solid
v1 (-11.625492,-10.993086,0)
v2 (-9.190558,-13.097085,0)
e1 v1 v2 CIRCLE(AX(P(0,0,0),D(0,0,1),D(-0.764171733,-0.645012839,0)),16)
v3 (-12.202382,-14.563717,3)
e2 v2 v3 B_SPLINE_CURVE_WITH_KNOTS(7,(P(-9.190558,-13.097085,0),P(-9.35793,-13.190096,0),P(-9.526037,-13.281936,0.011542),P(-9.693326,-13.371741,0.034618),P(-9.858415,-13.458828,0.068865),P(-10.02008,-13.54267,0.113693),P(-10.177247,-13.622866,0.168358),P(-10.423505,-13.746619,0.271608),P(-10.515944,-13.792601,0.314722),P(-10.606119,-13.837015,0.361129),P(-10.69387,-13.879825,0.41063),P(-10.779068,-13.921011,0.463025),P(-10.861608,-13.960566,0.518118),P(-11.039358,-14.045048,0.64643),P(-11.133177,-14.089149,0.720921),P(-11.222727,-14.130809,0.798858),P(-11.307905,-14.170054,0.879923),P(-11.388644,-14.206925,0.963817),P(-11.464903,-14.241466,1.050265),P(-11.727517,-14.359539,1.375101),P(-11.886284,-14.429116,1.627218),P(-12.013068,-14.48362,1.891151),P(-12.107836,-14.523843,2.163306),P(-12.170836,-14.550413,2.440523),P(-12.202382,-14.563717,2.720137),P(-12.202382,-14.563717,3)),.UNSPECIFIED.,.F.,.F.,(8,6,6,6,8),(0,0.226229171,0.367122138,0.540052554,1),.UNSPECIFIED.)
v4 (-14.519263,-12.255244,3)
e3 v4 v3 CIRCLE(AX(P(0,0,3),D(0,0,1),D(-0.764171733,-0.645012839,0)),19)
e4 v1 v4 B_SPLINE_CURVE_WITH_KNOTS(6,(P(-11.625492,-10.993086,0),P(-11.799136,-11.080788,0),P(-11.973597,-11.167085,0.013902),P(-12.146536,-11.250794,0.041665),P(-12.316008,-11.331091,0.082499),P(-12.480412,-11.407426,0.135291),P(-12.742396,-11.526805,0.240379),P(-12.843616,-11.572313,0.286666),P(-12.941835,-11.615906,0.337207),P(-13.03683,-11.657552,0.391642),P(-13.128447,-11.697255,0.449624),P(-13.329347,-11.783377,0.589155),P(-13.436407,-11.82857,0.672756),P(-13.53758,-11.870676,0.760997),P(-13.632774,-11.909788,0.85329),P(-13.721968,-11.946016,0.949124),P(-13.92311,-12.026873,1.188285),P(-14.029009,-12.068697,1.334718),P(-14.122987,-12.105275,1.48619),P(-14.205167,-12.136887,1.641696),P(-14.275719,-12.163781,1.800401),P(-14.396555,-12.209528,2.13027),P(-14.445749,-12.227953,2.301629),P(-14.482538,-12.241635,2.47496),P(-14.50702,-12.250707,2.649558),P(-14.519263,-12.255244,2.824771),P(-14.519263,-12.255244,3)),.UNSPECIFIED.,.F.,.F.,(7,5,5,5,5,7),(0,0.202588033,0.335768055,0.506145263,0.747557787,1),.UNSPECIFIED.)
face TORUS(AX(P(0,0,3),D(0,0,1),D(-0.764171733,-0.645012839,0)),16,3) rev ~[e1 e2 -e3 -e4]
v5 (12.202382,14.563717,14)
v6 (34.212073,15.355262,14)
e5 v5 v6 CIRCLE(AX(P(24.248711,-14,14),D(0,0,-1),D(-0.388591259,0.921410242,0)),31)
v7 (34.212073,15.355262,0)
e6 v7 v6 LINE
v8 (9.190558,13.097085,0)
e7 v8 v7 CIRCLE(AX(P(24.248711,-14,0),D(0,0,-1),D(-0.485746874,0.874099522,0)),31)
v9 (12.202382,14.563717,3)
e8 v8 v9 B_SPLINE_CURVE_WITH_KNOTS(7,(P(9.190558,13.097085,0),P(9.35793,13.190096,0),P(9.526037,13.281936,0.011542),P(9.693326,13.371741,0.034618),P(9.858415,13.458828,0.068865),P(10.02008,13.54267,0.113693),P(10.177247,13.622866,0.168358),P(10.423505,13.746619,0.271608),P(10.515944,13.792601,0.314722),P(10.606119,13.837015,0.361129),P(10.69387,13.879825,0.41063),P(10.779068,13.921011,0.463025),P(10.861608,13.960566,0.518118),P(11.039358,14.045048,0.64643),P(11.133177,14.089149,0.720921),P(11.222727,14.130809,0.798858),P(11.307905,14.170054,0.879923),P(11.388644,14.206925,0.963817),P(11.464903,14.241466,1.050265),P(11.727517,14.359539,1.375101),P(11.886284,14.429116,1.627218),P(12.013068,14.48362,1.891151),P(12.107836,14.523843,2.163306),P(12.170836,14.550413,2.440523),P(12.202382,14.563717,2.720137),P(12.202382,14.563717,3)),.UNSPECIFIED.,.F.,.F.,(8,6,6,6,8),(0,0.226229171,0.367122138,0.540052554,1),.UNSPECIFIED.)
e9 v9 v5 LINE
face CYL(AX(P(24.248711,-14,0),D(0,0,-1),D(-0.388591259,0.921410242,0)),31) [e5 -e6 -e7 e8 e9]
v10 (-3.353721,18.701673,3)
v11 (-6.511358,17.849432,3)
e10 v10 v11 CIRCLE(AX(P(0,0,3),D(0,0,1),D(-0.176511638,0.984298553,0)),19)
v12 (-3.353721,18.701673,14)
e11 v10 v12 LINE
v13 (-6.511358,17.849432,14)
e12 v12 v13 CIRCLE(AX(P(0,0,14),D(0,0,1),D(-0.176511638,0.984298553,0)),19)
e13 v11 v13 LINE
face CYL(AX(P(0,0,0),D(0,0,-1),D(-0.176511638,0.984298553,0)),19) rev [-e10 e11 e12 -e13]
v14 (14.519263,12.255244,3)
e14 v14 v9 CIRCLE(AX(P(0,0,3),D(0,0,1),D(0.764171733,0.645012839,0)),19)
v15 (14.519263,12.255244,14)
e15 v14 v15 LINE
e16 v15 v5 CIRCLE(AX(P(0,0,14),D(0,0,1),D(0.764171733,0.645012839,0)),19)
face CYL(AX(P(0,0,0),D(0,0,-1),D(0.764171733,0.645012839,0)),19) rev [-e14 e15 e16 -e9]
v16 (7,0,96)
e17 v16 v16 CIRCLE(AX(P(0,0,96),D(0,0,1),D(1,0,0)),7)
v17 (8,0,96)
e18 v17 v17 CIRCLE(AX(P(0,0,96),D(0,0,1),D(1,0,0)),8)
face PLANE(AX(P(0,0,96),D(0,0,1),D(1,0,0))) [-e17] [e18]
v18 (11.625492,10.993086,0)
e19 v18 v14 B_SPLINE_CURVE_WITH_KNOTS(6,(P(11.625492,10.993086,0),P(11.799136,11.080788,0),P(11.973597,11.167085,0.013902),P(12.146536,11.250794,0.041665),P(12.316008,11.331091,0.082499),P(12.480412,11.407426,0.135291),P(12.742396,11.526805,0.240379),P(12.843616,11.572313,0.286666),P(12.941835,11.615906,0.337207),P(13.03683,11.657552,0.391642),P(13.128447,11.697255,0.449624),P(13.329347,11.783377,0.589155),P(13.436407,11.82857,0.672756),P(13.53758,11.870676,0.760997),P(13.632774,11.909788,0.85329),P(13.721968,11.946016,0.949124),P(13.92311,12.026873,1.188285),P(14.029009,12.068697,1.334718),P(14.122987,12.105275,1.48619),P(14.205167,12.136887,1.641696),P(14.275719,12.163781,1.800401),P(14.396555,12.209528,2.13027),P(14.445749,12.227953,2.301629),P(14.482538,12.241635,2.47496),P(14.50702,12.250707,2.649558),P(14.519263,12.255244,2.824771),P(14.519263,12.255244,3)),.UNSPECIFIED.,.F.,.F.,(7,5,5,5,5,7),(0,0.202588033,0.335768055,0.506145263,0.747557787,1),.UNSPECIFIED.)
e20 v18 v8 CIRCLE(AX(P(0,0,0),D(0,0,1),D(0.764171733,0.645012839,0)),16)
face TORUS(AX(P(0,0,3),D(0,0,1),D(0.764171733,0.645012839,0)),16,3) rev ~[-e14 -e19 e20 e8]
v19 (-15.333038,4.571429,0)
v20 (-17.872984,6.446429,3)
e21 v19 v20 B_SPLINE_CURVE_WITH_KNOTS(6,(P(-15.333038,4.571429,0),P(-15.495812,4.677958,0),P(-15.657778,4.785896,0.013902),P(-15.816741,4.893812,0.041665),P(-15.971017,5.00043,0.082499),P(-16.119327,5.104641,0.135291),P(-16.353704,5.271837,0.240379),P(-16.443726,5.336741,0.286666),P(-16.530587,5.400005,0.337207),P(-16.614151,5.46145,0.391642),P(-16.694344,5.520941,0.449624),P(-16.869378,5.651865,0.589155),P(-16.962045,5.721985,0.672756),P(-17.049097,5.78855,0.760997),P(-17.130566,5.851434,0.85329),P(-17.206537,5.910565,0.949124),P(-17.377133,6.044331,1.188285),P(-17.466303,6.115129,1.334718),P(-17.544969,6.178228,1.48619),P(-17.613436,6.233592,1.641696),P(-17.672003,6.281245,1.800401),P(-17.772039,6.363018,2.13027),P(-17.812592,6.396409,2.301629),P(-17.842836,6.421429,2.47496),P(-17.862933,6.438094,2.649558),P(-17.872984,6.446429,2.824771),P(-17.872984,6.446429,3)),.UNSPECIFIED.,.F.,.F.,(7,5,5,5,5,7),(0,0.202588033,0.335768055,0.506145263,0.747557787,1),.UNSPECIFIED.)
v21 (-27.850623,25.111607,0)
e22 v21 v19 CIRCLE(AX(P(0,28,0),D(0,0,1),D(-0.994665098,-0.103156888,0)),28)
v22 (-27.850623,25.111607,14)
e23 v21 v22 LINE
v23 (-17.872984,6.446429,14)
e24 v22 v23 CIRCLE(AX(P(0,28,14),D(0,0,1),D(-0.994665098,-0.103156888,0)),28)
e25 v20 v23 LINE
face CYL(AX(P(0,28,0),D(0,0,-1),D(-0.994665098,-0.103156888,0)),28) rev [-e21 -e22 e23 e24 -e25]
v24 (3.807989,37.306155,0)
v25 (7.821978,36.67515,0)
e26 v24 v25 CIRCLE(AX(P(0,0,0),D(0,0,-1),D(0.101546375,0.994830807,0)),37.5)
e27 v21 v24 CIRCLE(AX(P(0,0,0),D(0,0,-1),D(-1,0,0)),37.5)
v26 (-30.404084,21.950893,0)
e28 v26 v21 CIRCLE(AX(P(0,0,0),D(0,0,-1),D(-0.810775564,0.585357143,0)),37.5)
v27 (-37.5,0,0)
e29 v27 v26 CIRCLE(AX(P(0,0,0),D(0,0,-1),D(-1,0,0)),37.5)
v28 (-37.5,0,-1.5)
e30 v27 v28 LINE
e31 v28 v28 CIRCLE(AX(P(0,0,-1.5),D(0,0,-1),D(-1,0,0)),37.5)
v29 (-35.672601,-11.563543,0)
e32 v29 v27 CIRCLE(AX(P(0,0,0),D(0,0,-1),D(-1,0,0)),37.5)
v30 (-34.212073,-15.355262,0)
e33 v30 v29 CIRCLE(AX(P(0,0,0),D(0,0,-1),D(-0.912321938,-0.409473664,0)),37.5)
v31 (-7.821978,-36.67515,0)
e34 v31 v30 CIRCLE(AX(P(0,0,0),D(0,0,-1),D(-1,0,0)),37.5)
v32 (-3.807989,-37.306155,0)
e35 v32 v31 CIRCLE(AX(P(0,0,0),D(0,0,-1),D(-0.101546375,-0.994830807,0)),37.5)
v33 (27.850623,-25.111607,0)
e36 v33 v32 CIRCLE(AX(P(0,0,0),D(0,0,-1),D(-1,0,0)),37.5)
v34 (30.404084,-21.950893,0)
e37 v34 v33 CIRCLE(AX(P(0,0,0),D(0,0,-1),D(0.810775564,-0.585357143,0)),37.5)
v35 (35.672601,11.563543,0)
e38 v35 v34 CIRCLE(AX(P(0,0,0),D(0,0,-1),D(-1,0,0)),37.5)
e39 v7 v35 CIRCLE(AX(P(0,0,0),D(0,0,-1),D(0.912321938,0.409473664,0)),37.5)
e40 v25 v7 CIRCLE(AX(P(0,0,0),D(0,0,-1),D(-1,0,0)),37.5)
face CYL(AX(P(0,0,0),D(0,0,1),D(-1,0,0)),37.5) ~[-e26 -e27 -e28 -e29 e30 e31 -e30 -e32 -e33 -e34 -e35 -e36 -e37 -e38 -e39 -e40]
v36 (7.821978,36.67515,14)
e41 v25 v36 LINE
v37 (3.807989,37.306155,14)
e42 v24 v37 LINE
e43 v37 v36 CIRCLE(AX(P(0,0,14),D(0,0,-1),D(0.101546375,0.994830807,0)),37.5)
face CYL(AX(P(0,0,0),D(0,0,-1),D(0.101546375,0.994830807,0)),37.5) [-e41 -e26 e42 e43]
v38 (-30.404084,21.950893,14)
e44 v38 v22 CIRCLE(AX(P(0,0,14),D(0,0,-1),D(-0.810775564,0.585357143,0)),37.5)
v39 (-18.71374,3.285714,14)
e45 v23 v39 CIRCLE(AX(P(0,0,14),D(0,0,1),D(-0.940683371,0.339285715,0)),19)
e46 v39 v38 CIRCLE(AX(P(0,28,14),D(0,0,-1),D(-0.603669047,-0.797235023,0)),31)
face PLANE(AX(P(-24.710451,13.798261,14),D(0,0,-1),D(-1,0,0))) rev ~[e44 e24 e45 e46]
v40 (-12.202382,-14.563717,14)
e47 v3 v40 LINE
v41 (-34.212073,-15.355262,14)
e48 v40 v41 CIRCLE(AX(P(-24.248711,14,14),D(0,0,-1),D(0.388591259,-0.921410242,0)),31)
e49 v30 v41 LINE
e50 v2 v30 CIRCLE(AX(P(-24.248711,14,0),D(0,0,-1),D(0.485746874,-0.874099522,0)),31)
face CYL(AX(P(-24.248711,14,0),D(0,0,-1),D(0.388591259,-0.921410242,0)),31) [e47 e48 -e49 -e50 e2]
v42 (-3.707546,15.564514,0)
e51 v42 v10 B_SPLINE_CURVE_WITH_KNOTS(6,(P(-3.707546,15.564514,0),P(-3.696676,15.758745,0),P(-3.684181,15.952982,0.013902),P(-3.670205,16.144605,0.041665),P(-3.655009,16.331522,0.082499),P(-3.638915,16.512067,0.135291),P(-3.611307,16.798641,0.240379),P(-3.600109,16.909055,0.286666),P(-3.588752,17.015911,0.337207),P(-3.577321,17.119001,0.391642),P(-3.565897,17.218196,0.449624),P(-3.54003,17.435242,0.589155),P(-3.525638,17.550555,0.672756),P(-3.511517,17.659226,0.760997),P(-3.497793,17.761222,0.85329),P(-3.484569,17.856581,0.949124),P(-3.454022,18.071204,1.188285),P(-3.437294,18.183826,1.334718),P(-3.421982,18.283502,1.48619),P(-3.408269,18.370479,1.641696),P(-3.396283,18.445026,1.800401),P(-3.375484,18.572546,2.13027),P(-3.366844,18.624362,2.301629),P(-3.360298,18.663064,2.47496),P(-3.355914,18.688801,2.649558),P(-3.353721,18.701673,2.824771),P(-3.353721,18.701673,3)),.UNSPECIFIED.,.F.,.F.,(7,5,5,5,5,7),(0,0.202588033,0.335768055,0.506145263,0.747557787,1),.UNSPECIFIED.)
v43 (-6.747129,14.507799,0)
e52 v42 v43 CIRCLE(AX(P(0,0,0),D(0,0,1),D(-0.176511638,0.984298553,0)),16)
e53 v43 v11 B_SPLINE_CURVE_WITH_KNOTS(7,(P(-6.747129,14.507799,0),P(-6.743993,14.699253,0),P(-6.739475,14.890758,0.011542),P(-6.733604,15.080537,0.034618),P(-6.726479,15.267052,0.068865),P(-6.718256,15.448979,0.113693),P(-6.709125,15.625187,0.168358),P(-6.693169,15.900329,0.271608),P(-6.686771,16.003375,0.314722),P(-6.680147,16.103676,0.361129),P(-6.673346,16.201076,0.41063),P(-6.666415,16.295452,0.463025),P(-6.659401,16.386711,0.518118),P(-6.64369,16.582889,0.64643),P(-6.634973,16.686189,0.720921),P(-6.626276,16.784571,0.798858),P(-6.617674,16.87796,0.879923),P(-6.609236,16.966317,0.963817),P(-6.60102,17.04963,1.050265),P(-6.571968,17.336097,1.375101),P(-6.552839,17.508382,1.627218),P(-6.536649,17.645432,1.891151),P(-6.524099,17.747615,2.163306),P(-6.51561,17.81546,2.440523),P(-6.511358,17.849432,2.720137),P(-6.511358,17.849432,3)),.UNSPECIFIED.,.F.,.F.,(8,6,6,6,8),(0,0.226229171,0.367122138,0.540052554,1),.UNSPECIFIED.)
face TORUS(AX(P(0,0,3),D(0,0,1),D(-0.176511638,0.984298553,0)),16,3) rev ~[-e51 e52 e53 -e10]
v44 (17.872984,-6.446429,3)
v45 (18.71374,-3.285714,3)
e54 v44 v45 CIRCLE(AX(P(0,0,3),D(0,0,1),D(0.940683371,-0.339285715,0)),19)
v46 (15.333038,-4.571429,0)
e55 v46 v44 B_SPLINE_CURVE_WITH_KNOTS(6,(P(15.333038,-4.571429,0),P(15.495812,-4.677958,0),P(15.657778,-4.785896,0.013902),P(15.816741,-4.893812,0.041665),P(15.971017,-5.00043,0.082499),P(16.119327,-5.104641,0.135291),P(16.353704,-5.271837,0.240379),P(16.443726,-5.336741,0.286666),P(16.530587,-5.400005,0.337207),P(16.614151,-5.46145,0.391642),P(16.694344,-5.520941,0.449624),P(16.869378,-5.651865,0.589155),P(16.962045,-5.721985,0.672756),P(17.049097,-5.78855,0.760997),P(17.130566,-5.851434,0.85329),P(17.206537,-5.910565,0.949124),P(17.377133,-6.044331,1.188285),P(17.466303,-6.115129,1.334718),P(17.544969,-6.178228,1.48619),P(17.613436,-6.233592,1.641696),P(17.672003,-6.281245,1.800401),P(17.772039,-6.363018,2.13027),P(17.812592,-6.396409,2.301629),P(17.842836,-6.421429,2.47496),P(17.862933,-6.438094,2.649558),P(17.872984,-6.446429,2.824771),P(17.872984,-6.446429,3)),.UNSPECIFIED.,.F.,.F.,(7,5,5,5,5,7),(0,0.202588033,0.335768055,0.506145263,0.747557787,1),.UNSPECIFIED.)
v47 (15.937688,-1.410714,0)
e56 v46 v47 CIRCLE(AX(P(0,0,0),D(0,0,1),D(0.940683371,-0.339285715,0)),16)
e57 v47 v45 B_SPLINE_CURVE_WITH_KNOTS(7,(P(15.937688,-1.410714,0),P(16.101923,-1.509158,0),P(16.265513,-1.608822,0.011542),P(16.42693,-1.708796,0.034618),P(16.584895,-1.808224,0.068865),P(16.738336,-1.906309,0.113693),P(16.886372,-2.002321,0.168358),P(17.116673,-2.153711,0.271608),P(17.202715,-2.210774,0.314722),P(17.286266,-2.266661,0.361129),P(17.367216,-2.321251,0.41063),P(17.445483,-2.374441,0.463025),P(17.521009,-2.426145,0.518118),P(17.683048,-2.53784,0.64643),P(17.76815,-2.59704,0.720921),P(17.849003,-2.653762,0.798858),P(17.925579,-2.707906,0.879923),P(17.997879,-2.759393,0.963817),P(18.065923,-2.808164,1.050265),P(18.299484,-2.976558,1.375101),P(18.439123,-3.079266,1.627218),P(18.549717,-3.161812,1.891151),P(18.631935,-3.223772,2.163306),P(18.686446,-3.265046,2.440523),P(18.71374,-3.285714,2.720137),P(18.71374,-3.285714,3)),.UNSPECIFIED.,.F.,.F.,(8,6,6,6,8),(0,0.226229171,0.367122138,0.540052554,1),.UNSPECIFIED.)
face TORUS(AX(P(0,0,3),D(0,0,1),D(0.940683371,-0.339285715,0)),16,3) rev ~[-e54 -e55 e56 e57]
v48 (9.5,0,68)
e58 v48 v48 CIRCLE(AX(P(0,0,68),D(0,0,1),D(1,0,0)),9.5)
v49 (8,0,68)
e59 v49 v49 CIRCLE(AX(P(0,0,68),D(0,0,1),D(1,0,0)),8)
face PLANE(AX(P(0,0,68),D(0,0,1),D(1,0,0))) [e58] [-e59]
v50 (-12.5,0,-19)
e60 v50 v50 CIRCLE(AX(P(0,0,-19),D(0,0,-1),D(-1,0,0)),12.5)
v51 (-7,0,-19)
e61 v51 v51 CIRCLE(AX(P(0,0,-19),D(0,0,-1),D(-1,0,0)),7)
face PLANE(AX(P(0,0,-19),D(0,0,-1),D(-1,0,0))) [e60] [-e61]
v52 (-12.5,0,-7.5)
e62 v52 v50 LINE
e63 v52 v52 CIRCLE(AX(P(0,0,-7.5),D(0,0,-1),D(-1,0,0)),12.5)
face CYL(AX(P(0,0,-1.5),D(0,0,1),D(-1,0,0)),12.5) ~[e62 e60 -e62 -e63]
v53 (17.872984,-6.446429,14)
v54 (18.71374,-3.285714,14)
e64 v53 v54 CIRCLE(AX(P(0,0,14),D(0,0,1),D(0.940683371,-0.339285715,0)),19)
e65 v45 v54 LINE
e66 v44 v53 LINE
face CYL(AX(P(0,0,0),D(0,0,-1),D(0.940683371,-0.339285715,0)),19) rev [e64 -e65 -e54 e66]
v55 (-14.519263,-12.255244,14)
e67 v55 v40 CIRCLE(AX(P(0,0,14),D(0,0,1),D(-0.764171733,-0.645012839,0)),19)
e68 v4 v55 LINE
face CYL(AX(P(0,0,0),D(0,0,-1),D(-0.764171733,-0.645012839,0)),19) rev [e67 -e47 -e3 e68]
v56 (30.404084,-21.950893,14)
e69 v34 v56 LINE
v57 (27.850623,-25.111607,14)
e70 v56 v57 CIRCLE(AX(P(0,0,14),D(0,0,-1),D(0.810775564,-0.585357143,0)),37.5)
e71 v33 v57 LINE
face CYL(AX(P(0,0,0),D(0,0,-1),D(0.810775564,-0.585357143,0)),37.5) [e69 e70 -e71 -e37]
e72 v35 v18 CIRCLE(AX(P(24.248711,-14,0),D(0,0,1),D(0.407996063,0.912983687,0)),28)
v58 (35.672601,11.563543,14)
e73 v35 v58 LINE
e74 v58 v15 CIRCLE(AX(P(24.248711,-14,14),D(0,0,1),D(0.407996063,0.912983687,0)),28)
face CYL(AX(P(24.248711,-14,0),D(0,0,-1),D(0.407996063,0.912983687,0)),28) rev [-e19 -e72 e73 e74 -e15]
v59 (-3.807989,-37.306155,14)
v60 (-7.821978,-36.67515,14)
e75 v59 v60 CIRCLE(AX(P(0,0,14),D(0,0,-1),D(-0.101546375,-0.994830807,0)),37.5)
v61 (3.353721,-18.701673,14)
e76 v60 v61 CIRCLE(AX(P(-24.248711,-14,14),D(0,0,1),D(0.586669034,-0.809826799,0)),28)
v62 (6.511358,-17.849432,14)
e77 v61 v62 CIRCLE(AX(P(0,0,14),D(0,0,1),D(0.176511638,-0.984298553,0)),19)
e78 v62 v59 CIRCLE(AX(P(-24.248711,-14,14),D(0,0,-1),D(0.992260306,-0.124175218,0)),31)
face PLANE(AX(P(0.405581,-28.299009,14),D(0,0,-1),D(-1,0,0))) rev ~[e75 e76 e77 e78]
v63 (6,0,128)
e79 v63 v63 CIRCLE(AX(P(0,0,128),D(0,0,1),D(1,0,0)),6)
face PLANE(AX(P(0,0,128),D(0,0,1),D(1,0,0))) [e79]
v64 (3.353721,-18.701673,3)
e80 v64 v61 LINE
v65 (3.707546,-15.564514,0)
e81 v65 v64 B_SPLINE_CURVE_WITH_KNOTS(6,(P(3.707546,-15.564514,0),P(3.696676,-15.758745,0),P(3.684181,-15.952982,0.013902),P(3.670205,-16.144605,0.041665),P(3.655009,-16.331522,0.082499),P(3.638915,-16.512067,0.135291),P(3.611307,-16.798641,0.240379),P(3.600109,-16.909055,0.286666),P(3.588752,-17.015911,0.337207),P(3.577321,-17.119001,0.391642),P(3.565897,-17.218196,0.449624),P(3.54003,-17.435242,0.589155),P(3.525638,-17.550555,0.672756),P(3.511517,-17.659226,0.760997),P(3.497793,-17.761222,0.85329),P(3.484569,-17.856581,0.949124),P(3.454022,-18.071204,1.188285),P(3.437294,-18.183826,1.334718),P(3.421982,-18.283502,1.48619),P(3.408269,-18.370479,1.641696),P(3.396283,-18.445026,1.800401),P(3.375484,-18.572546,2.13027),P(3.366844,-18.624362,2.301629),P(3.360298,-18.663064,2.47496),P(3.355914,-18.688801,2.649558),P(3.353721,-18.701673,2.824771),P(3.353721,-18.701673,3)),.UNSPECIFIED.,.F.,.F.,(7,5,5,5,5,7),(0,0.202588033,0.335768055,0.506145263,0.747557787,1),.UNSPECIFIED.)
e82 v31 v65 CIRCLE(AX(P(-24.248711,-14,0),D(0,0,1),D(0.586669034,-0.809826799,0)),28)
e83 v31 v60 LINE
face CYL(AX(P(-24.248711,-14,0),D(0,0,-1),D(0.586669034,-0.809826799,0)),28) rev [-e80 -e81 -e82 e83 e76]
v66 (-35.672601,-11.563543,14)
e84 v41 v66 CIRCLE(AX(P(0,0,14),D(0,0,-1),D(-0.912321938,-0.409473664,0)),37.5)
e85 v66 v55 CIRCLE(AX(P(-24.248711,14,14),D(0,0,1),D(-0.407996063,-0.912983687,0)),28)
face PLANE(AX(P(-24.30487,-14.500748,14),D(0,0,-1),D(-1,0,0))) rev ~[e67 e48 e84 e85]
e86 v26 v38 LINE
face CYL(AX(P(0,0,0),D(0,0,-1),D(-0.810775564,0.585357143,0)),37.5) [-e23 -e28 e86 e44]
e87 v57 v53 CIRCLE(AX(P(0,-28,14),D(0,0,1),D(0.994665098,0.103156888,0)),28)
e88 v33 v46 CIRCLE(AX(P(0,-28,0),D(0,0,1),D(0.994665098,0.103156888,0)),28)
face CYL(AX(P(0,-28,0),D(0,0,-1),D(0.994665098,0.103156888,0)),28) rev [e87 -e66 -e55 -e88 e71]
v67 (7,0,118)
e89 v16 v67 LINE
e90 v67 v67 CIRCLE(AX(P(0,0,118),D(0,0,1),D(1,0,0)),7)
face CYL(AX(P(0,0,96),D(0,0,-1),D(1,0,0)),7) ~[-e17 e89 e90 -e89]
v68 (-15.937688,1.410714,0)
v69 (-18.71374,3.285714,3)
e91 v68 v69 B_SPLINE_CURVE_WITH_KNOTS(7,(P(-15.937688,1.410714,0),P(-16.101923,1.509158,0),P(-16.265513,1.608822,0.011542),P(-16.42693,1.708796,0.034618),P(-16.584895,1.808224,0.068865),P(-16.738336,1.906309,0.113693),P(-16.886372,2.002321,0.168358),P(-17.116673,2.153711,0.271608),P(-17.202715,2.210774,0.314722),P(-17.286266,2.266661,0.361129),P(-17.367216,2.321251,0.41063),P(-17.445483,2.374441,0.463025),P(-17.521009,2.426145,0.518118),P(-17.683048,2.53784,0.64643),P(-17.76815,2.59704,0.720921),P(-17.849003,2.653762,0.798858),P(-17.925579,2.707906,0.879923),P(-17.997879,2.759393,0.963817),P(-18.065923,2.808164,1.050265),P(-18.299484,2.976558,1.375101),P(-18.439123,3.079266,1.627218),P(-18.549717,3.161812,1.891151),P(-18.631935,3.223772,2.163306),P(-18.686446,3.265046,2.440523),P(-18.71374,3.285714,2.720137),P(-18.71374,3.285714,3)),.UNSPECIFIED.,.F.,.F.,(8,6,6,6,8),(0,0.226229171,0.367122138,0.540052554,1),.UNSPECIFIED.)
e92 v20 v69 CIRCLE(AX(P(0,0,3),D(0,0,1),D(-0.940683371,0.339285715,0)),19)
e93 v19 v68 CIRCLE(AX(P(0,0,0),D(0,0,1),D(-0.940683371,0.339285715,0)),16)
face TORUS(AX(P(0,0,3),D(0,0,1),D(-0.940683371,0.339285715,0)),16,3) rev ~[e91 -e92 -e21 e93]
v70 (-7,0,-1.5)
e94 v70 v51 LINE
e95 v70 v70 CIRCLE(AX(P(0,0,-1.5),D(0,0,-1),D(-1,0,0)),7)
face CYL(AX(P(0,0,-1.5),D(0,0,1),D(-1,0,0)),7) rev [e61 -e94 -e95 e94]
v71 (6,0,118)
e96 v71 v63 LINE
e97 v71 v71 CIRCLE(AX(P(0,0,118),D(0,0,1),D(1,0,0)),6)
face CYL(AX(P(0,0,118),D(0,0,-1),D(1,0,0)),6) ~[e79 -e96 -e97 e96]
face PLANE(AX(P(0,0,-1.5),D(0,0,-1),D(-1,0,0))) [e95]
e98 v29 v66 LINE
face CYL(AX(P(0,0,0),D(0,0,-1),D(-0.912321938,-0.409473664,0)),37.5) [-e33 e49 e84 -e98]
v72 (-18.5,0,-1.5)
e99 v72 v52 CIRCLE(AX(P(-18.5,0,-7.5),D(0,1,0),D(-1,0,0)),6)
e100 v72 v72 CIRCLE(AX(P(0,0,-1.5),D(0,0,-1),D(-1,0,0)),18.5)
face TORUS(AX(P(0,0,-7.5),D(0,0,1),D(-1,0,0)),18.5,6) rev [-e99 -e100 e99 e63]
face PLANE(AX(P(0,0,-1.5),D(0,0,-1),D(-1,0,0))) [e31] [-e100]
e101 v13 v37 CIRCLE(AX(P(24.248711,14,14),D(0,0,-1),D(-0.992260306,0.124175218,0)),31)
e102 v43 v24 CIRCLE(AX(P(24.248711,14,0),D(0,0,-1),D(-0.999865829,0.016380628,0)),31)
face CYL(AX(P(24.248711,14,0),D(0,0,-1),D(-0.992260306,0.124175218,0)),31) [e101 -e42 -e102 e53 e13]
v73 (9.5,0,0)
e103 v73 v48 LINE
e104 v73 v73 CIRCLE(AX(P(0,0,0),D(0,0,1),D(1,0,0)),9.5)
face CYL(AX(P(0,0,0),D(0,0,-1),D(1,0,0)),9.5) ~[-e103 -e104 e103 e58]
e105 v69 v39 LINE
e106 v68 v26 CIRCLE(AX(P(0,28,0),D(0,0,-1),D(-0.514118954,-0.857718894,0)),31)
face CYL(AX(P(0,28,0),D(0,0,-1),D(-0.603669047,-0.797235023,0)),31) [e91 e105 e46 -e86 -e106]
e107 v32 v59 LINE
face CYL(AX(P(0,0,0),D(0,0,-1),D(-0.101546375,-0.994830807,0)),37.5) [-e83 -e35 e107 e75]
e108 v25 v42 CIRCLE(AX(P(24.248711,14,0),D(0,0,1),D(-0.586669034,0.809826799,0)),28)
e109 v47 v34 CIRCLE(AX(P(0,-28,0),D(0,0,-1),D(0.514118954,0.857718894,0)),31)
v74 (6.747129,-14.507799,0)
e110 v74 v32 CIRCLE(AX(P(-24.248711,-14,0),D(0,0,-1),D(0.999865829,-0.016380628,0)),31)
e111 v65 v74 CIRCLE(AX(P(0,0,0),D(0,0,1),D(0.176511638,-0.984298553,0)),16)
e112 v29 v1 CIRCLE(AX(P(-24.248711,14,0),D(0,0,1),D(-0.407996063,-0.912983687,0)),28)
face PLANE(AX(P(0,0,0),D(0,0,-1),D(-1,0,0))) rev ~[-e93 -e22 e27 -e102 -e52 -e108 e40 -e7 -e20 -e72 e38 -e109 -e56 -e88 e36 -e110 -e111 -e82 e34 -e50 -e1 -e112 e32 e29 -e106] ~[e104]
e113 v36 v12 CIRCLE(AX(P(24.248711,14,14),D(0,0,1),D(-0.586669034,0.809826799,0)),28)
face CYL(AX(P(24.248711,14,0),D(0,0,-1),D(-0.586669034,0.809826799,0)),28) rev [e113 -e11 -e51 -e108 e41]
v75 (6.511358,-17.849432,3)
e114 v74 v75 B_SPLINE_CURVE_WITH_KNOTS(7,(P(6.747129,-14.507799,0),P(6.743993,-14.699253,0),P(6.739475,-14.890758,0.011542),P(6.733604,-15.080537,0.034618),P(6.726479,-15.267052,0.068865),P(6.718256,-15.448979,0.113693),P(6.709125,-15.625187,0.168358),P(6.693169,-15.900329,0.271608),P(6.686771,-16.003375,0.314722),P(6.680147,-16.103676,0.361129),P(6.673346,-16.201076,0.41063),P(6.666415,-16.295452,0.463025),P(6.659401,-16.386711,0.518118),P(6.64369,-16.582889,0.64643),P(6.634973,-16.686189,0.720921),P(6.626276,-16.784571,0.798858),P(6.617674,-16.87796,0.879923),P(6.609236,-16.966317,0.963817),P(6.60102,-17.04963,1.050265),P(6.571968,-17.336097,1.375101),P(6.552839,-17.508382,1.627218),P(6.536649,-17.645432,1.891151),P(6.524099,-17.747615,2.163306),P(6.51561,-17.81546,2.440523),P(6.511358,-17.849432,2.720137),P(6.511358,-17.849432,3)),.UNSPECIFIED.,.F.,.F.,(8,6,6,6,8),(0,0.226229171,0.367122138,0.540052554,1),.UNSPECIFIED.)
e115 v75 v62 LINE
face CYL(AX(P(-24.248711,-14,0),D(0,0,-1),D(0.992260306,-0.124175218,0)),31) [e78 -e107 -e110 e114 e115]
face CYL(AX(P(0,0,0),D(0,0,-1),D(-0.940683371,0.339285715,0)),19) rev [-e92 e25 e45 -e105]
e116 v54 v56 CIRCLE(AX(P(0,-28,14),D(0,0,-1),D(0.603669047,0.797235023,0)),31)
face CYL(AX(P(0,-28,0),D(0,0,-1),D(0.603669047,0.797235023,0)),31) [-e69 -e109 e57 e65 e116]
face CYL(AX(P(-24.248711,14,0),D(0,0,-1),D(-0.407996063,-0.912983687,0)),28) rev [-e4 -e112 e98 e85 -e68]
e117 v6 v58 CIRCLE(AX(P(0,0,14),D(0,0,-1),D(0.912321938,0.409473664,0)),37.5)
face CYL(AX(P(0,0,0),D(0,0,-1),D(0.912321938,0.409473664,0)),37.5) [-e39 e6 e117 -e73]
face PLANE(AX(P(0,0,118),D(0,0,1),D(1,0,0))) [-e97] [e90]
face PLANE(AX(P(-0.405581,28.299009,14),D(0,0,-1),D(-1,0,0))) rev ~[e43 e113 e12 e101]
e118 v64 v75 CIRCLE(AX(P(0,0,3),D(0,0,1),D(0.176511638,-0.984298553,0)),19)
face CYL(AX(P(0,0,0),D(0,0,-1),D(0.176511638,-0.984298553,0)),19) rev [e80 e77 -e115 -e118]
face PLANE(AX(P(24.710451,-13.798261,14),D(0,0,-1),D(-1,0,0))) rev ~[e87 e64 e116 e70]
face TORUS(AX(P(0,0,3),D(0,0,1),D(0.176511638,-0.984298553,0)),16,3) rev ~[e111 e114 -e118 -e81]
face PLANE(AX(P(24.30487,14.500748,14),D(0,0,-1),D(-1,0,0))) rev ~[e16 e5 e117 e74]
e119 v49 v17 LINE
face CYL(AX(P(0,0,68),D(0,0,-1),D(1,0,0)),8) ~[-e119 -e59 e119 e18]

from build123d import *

# Parameters (mm, degrees)
SKETCH1_R           = 9.5
BOSS_EXTRUDE1_DEPTH = 68
SKETCH2_R           = 8
BOSS_EXTRUDE2_DEPTH = 28
SKETCH3_R           = 7
BOSS_EXTRUDE3_DEPTH = 22
SKETCH4_R           = 6
BOSS_EXTRUDE4_DEPTH = 10
SKETCH5_R           = 37.5
BOSS_EXTRUDE5_DEPTH = 1.5
SKETCH6_R           = 12.5
SKETCH6_R_2         = 7
BOSS_EXTRUDE6_DEPTH = 17.5
FILLET1_R           = 6
BOSS_EXTRUDE7_DEPTH = 14
FILLET2_R           = 3


with BuildPart() as part:
    # Sketch1 → Boss-Extrude1 (new body)
    with BuildSketch(Plane.XY):
        Circle(SKETCH1_R)
    extrude(amount=BOSS_EXTRUDE1_DEPTH)

    # Sketch2 → Boss-Extrude2 (add)
    with BuildSketch(Plane.XY.offset(68)):
        Circle(SKETCH2_R)
    extrude(amount=BOSS_EXTRUDE2_DEPTH)

    # Sketch3 → Boss-Extrude3 (add)
    with BuildSketch(Plane.XY.offset(96)):
        Circle(SKETCH3_R)
    extrude(amount=BOSS_EXTRUDE3_DEPTH)

    # Sketch4 → Boss-Extrude4 (add)
    with BuildSketch(Plane.XY.offset(118)):
        Circle(SKETCH4_R)
    extrude(amount=BOSS_EXTRUDE4_DEPTH)

    # Sketch5 → Boss-Extrude5 (add)
    with BuildSketch(Plane(origin=(0, 0, 0), x_dir=(-1, 0, 0), z_dir=(0, 0, -1))):
        Circle(SKETCH5_R)
    extrude(amount=BOSS_EXTRUDE5_DEPTH)

    # Sketch6 → Boss-Extrude6 (add)
    with BuildSketch(Plane(origin=(0, 0, -1.5), x_dir=(-1, 0, 0), z_dir=(0, 0, -1))):
        Circle(SKETCH6_R)
        Circle(SKETCH6_R_2, mode=Mode.SUBTRACT)
    extrude(amount=BOSS_EXTRUDE6_DEPTH)

    # Fillet1
    fillet1_edges = [part.edges().sort_by_distance(p)[0] for p in [
        (12.5, 0, -1.5),
    ]]
    fillet(fillet1_edges, radius=FILLET1_R)

    # Sketch8 → Boss-Extrude7 (add)
    with BuildSketch(Plane.XY):
        with BuildLine():
            ThreePointArc((-14.519262929, -12.255243939), (-13.410586975, -13.459426325), (-12.202382266, -14.563717487))
            ThreePointArc((-12.202382266, -14.563717487), (-23.134563913, -16.979972169), (-34.212072677, -15.355262394))
            ThreePointArc((-34.212072677, -15.355262394), (-34.993730727, -13.479199154), (-35.672601083, -11.563543228))
            ThreePointArc((-35.672601083, -11.563543228), (-25.163804407, -13.985042516), (-14.519262929, -12.255243939))
        make_face()
        with BuildLine():
            ThreePointArc((7.821978348, 36.675150371), (0.470500112, 28.78501513), (-3.353721116, 18.70167251))
            ThreePointArc((-3.353721116, 18.70167251), (-4.95091163, 18.343622162), (-6.511358184, 17.849431772))
            ThreePointArc((-6.511358184, 17.849431772), (-3.137805297, 28.525106139), (3.807989024, 37.306155251))
            ThreePointArc((3.807989024, 37.306155251), (5.823536473, 37.045059359), (7.821978348, 36.675150371))
        make_face()
        with BuildLine():
            ThreePointArc((-27.850622735, 25.111607143), (-24.693304295, 14.799972614), (-17.872984045, 6.446428571))
            ThreePointArc((-17.872984045, 6.446428571), (-18.361498605, 4.884195838), (-18.71374045, 3.285714286))
            ThreePointArc((-18.71374045, 3.285714286), (-26.27236921, 11.54513397), (-30.404083653, 21.950892857))
            ThreePointArc((-30.404083653, 21.950892857), (-29.170194253, 23.565860206), (-27.850622735, 25.111607143))
        make_face()
        with BuildLine():
            ThreePointArc((35.672601083, 11.563543228), (25.163804407, 13.985042516), (14.519262929, 12.255243939))
            ThreePointArc((14.519262929, 12.255243939), (13.410586975, 13.459426325), (12.202382266, 14.563717487))
            ThreePointArc((12.202382266, 14.563717487), (23.134563913, 16.979972169), (34.212072677, 15.355262394))
            ThreePointArc((34.212072677, 15.355262394), (34.993730727, 13.479199154), (35.672601083, 11.563543228))
        make_face()
        with BuildLine():
            ThreePointArc((27.850622735, -25.111607143), (24.693304295, -14.799972614), (17.872984045, -6.446428571))
            ThreePointArc((17.872984045, -6.446428571), (18.361498605, -4.884195838), (18.71374045, -3.285714286))
            ThreePointArc((18.71374045, -3.285714286), (26.27236921, -11.54513397), (30.404083653, -21.950892857))
            ThreePointArc((30.404083653, -21.950892857), (29.170194253, -23.565860206), (27.850622735, -25.111607143))
        make_face()
        with BuildLine():
            ThreePointArc((-7.821978348, -36.675150371), (-0.470500112, -28.78501513), (3.353721116, -18.70167251))
            ThreePointArc((3.353721116, -18.70167251), (4.95091163, -18.343622162), (6.511358184, -17.849431772))
            ThreePointArc((6.511358184, -17.849431772), (3.137805297, -28.525106139), (-3.807989024, -37.306155251))
            ThreePointArc((-3.807989024, -37.306155251), (-5.823536473, -37.045059359), (-7.821978348, -36.675150371))
        make_face()
    extrude(amount=BOSS_EXTRUDE7_DEPTH)

    # Fillet2
    fillet2_edges = [part.edges().sort_by_distance(p)[0] for p in [
        (-18.361498605, 4.884195838, 0),
        (-4.95091163, 18.343622162, 0),
        (13.410586975, 13.459426325, 0),
        (18.361498605, -4.884195838, 0),
        (4.95091163, -18.343622162, 0),
        (-13.410586975, -13.459426325, 0),
    ]]
    fillet(fillet2_edges, radius=FILLET2_R)


solid = part.part
